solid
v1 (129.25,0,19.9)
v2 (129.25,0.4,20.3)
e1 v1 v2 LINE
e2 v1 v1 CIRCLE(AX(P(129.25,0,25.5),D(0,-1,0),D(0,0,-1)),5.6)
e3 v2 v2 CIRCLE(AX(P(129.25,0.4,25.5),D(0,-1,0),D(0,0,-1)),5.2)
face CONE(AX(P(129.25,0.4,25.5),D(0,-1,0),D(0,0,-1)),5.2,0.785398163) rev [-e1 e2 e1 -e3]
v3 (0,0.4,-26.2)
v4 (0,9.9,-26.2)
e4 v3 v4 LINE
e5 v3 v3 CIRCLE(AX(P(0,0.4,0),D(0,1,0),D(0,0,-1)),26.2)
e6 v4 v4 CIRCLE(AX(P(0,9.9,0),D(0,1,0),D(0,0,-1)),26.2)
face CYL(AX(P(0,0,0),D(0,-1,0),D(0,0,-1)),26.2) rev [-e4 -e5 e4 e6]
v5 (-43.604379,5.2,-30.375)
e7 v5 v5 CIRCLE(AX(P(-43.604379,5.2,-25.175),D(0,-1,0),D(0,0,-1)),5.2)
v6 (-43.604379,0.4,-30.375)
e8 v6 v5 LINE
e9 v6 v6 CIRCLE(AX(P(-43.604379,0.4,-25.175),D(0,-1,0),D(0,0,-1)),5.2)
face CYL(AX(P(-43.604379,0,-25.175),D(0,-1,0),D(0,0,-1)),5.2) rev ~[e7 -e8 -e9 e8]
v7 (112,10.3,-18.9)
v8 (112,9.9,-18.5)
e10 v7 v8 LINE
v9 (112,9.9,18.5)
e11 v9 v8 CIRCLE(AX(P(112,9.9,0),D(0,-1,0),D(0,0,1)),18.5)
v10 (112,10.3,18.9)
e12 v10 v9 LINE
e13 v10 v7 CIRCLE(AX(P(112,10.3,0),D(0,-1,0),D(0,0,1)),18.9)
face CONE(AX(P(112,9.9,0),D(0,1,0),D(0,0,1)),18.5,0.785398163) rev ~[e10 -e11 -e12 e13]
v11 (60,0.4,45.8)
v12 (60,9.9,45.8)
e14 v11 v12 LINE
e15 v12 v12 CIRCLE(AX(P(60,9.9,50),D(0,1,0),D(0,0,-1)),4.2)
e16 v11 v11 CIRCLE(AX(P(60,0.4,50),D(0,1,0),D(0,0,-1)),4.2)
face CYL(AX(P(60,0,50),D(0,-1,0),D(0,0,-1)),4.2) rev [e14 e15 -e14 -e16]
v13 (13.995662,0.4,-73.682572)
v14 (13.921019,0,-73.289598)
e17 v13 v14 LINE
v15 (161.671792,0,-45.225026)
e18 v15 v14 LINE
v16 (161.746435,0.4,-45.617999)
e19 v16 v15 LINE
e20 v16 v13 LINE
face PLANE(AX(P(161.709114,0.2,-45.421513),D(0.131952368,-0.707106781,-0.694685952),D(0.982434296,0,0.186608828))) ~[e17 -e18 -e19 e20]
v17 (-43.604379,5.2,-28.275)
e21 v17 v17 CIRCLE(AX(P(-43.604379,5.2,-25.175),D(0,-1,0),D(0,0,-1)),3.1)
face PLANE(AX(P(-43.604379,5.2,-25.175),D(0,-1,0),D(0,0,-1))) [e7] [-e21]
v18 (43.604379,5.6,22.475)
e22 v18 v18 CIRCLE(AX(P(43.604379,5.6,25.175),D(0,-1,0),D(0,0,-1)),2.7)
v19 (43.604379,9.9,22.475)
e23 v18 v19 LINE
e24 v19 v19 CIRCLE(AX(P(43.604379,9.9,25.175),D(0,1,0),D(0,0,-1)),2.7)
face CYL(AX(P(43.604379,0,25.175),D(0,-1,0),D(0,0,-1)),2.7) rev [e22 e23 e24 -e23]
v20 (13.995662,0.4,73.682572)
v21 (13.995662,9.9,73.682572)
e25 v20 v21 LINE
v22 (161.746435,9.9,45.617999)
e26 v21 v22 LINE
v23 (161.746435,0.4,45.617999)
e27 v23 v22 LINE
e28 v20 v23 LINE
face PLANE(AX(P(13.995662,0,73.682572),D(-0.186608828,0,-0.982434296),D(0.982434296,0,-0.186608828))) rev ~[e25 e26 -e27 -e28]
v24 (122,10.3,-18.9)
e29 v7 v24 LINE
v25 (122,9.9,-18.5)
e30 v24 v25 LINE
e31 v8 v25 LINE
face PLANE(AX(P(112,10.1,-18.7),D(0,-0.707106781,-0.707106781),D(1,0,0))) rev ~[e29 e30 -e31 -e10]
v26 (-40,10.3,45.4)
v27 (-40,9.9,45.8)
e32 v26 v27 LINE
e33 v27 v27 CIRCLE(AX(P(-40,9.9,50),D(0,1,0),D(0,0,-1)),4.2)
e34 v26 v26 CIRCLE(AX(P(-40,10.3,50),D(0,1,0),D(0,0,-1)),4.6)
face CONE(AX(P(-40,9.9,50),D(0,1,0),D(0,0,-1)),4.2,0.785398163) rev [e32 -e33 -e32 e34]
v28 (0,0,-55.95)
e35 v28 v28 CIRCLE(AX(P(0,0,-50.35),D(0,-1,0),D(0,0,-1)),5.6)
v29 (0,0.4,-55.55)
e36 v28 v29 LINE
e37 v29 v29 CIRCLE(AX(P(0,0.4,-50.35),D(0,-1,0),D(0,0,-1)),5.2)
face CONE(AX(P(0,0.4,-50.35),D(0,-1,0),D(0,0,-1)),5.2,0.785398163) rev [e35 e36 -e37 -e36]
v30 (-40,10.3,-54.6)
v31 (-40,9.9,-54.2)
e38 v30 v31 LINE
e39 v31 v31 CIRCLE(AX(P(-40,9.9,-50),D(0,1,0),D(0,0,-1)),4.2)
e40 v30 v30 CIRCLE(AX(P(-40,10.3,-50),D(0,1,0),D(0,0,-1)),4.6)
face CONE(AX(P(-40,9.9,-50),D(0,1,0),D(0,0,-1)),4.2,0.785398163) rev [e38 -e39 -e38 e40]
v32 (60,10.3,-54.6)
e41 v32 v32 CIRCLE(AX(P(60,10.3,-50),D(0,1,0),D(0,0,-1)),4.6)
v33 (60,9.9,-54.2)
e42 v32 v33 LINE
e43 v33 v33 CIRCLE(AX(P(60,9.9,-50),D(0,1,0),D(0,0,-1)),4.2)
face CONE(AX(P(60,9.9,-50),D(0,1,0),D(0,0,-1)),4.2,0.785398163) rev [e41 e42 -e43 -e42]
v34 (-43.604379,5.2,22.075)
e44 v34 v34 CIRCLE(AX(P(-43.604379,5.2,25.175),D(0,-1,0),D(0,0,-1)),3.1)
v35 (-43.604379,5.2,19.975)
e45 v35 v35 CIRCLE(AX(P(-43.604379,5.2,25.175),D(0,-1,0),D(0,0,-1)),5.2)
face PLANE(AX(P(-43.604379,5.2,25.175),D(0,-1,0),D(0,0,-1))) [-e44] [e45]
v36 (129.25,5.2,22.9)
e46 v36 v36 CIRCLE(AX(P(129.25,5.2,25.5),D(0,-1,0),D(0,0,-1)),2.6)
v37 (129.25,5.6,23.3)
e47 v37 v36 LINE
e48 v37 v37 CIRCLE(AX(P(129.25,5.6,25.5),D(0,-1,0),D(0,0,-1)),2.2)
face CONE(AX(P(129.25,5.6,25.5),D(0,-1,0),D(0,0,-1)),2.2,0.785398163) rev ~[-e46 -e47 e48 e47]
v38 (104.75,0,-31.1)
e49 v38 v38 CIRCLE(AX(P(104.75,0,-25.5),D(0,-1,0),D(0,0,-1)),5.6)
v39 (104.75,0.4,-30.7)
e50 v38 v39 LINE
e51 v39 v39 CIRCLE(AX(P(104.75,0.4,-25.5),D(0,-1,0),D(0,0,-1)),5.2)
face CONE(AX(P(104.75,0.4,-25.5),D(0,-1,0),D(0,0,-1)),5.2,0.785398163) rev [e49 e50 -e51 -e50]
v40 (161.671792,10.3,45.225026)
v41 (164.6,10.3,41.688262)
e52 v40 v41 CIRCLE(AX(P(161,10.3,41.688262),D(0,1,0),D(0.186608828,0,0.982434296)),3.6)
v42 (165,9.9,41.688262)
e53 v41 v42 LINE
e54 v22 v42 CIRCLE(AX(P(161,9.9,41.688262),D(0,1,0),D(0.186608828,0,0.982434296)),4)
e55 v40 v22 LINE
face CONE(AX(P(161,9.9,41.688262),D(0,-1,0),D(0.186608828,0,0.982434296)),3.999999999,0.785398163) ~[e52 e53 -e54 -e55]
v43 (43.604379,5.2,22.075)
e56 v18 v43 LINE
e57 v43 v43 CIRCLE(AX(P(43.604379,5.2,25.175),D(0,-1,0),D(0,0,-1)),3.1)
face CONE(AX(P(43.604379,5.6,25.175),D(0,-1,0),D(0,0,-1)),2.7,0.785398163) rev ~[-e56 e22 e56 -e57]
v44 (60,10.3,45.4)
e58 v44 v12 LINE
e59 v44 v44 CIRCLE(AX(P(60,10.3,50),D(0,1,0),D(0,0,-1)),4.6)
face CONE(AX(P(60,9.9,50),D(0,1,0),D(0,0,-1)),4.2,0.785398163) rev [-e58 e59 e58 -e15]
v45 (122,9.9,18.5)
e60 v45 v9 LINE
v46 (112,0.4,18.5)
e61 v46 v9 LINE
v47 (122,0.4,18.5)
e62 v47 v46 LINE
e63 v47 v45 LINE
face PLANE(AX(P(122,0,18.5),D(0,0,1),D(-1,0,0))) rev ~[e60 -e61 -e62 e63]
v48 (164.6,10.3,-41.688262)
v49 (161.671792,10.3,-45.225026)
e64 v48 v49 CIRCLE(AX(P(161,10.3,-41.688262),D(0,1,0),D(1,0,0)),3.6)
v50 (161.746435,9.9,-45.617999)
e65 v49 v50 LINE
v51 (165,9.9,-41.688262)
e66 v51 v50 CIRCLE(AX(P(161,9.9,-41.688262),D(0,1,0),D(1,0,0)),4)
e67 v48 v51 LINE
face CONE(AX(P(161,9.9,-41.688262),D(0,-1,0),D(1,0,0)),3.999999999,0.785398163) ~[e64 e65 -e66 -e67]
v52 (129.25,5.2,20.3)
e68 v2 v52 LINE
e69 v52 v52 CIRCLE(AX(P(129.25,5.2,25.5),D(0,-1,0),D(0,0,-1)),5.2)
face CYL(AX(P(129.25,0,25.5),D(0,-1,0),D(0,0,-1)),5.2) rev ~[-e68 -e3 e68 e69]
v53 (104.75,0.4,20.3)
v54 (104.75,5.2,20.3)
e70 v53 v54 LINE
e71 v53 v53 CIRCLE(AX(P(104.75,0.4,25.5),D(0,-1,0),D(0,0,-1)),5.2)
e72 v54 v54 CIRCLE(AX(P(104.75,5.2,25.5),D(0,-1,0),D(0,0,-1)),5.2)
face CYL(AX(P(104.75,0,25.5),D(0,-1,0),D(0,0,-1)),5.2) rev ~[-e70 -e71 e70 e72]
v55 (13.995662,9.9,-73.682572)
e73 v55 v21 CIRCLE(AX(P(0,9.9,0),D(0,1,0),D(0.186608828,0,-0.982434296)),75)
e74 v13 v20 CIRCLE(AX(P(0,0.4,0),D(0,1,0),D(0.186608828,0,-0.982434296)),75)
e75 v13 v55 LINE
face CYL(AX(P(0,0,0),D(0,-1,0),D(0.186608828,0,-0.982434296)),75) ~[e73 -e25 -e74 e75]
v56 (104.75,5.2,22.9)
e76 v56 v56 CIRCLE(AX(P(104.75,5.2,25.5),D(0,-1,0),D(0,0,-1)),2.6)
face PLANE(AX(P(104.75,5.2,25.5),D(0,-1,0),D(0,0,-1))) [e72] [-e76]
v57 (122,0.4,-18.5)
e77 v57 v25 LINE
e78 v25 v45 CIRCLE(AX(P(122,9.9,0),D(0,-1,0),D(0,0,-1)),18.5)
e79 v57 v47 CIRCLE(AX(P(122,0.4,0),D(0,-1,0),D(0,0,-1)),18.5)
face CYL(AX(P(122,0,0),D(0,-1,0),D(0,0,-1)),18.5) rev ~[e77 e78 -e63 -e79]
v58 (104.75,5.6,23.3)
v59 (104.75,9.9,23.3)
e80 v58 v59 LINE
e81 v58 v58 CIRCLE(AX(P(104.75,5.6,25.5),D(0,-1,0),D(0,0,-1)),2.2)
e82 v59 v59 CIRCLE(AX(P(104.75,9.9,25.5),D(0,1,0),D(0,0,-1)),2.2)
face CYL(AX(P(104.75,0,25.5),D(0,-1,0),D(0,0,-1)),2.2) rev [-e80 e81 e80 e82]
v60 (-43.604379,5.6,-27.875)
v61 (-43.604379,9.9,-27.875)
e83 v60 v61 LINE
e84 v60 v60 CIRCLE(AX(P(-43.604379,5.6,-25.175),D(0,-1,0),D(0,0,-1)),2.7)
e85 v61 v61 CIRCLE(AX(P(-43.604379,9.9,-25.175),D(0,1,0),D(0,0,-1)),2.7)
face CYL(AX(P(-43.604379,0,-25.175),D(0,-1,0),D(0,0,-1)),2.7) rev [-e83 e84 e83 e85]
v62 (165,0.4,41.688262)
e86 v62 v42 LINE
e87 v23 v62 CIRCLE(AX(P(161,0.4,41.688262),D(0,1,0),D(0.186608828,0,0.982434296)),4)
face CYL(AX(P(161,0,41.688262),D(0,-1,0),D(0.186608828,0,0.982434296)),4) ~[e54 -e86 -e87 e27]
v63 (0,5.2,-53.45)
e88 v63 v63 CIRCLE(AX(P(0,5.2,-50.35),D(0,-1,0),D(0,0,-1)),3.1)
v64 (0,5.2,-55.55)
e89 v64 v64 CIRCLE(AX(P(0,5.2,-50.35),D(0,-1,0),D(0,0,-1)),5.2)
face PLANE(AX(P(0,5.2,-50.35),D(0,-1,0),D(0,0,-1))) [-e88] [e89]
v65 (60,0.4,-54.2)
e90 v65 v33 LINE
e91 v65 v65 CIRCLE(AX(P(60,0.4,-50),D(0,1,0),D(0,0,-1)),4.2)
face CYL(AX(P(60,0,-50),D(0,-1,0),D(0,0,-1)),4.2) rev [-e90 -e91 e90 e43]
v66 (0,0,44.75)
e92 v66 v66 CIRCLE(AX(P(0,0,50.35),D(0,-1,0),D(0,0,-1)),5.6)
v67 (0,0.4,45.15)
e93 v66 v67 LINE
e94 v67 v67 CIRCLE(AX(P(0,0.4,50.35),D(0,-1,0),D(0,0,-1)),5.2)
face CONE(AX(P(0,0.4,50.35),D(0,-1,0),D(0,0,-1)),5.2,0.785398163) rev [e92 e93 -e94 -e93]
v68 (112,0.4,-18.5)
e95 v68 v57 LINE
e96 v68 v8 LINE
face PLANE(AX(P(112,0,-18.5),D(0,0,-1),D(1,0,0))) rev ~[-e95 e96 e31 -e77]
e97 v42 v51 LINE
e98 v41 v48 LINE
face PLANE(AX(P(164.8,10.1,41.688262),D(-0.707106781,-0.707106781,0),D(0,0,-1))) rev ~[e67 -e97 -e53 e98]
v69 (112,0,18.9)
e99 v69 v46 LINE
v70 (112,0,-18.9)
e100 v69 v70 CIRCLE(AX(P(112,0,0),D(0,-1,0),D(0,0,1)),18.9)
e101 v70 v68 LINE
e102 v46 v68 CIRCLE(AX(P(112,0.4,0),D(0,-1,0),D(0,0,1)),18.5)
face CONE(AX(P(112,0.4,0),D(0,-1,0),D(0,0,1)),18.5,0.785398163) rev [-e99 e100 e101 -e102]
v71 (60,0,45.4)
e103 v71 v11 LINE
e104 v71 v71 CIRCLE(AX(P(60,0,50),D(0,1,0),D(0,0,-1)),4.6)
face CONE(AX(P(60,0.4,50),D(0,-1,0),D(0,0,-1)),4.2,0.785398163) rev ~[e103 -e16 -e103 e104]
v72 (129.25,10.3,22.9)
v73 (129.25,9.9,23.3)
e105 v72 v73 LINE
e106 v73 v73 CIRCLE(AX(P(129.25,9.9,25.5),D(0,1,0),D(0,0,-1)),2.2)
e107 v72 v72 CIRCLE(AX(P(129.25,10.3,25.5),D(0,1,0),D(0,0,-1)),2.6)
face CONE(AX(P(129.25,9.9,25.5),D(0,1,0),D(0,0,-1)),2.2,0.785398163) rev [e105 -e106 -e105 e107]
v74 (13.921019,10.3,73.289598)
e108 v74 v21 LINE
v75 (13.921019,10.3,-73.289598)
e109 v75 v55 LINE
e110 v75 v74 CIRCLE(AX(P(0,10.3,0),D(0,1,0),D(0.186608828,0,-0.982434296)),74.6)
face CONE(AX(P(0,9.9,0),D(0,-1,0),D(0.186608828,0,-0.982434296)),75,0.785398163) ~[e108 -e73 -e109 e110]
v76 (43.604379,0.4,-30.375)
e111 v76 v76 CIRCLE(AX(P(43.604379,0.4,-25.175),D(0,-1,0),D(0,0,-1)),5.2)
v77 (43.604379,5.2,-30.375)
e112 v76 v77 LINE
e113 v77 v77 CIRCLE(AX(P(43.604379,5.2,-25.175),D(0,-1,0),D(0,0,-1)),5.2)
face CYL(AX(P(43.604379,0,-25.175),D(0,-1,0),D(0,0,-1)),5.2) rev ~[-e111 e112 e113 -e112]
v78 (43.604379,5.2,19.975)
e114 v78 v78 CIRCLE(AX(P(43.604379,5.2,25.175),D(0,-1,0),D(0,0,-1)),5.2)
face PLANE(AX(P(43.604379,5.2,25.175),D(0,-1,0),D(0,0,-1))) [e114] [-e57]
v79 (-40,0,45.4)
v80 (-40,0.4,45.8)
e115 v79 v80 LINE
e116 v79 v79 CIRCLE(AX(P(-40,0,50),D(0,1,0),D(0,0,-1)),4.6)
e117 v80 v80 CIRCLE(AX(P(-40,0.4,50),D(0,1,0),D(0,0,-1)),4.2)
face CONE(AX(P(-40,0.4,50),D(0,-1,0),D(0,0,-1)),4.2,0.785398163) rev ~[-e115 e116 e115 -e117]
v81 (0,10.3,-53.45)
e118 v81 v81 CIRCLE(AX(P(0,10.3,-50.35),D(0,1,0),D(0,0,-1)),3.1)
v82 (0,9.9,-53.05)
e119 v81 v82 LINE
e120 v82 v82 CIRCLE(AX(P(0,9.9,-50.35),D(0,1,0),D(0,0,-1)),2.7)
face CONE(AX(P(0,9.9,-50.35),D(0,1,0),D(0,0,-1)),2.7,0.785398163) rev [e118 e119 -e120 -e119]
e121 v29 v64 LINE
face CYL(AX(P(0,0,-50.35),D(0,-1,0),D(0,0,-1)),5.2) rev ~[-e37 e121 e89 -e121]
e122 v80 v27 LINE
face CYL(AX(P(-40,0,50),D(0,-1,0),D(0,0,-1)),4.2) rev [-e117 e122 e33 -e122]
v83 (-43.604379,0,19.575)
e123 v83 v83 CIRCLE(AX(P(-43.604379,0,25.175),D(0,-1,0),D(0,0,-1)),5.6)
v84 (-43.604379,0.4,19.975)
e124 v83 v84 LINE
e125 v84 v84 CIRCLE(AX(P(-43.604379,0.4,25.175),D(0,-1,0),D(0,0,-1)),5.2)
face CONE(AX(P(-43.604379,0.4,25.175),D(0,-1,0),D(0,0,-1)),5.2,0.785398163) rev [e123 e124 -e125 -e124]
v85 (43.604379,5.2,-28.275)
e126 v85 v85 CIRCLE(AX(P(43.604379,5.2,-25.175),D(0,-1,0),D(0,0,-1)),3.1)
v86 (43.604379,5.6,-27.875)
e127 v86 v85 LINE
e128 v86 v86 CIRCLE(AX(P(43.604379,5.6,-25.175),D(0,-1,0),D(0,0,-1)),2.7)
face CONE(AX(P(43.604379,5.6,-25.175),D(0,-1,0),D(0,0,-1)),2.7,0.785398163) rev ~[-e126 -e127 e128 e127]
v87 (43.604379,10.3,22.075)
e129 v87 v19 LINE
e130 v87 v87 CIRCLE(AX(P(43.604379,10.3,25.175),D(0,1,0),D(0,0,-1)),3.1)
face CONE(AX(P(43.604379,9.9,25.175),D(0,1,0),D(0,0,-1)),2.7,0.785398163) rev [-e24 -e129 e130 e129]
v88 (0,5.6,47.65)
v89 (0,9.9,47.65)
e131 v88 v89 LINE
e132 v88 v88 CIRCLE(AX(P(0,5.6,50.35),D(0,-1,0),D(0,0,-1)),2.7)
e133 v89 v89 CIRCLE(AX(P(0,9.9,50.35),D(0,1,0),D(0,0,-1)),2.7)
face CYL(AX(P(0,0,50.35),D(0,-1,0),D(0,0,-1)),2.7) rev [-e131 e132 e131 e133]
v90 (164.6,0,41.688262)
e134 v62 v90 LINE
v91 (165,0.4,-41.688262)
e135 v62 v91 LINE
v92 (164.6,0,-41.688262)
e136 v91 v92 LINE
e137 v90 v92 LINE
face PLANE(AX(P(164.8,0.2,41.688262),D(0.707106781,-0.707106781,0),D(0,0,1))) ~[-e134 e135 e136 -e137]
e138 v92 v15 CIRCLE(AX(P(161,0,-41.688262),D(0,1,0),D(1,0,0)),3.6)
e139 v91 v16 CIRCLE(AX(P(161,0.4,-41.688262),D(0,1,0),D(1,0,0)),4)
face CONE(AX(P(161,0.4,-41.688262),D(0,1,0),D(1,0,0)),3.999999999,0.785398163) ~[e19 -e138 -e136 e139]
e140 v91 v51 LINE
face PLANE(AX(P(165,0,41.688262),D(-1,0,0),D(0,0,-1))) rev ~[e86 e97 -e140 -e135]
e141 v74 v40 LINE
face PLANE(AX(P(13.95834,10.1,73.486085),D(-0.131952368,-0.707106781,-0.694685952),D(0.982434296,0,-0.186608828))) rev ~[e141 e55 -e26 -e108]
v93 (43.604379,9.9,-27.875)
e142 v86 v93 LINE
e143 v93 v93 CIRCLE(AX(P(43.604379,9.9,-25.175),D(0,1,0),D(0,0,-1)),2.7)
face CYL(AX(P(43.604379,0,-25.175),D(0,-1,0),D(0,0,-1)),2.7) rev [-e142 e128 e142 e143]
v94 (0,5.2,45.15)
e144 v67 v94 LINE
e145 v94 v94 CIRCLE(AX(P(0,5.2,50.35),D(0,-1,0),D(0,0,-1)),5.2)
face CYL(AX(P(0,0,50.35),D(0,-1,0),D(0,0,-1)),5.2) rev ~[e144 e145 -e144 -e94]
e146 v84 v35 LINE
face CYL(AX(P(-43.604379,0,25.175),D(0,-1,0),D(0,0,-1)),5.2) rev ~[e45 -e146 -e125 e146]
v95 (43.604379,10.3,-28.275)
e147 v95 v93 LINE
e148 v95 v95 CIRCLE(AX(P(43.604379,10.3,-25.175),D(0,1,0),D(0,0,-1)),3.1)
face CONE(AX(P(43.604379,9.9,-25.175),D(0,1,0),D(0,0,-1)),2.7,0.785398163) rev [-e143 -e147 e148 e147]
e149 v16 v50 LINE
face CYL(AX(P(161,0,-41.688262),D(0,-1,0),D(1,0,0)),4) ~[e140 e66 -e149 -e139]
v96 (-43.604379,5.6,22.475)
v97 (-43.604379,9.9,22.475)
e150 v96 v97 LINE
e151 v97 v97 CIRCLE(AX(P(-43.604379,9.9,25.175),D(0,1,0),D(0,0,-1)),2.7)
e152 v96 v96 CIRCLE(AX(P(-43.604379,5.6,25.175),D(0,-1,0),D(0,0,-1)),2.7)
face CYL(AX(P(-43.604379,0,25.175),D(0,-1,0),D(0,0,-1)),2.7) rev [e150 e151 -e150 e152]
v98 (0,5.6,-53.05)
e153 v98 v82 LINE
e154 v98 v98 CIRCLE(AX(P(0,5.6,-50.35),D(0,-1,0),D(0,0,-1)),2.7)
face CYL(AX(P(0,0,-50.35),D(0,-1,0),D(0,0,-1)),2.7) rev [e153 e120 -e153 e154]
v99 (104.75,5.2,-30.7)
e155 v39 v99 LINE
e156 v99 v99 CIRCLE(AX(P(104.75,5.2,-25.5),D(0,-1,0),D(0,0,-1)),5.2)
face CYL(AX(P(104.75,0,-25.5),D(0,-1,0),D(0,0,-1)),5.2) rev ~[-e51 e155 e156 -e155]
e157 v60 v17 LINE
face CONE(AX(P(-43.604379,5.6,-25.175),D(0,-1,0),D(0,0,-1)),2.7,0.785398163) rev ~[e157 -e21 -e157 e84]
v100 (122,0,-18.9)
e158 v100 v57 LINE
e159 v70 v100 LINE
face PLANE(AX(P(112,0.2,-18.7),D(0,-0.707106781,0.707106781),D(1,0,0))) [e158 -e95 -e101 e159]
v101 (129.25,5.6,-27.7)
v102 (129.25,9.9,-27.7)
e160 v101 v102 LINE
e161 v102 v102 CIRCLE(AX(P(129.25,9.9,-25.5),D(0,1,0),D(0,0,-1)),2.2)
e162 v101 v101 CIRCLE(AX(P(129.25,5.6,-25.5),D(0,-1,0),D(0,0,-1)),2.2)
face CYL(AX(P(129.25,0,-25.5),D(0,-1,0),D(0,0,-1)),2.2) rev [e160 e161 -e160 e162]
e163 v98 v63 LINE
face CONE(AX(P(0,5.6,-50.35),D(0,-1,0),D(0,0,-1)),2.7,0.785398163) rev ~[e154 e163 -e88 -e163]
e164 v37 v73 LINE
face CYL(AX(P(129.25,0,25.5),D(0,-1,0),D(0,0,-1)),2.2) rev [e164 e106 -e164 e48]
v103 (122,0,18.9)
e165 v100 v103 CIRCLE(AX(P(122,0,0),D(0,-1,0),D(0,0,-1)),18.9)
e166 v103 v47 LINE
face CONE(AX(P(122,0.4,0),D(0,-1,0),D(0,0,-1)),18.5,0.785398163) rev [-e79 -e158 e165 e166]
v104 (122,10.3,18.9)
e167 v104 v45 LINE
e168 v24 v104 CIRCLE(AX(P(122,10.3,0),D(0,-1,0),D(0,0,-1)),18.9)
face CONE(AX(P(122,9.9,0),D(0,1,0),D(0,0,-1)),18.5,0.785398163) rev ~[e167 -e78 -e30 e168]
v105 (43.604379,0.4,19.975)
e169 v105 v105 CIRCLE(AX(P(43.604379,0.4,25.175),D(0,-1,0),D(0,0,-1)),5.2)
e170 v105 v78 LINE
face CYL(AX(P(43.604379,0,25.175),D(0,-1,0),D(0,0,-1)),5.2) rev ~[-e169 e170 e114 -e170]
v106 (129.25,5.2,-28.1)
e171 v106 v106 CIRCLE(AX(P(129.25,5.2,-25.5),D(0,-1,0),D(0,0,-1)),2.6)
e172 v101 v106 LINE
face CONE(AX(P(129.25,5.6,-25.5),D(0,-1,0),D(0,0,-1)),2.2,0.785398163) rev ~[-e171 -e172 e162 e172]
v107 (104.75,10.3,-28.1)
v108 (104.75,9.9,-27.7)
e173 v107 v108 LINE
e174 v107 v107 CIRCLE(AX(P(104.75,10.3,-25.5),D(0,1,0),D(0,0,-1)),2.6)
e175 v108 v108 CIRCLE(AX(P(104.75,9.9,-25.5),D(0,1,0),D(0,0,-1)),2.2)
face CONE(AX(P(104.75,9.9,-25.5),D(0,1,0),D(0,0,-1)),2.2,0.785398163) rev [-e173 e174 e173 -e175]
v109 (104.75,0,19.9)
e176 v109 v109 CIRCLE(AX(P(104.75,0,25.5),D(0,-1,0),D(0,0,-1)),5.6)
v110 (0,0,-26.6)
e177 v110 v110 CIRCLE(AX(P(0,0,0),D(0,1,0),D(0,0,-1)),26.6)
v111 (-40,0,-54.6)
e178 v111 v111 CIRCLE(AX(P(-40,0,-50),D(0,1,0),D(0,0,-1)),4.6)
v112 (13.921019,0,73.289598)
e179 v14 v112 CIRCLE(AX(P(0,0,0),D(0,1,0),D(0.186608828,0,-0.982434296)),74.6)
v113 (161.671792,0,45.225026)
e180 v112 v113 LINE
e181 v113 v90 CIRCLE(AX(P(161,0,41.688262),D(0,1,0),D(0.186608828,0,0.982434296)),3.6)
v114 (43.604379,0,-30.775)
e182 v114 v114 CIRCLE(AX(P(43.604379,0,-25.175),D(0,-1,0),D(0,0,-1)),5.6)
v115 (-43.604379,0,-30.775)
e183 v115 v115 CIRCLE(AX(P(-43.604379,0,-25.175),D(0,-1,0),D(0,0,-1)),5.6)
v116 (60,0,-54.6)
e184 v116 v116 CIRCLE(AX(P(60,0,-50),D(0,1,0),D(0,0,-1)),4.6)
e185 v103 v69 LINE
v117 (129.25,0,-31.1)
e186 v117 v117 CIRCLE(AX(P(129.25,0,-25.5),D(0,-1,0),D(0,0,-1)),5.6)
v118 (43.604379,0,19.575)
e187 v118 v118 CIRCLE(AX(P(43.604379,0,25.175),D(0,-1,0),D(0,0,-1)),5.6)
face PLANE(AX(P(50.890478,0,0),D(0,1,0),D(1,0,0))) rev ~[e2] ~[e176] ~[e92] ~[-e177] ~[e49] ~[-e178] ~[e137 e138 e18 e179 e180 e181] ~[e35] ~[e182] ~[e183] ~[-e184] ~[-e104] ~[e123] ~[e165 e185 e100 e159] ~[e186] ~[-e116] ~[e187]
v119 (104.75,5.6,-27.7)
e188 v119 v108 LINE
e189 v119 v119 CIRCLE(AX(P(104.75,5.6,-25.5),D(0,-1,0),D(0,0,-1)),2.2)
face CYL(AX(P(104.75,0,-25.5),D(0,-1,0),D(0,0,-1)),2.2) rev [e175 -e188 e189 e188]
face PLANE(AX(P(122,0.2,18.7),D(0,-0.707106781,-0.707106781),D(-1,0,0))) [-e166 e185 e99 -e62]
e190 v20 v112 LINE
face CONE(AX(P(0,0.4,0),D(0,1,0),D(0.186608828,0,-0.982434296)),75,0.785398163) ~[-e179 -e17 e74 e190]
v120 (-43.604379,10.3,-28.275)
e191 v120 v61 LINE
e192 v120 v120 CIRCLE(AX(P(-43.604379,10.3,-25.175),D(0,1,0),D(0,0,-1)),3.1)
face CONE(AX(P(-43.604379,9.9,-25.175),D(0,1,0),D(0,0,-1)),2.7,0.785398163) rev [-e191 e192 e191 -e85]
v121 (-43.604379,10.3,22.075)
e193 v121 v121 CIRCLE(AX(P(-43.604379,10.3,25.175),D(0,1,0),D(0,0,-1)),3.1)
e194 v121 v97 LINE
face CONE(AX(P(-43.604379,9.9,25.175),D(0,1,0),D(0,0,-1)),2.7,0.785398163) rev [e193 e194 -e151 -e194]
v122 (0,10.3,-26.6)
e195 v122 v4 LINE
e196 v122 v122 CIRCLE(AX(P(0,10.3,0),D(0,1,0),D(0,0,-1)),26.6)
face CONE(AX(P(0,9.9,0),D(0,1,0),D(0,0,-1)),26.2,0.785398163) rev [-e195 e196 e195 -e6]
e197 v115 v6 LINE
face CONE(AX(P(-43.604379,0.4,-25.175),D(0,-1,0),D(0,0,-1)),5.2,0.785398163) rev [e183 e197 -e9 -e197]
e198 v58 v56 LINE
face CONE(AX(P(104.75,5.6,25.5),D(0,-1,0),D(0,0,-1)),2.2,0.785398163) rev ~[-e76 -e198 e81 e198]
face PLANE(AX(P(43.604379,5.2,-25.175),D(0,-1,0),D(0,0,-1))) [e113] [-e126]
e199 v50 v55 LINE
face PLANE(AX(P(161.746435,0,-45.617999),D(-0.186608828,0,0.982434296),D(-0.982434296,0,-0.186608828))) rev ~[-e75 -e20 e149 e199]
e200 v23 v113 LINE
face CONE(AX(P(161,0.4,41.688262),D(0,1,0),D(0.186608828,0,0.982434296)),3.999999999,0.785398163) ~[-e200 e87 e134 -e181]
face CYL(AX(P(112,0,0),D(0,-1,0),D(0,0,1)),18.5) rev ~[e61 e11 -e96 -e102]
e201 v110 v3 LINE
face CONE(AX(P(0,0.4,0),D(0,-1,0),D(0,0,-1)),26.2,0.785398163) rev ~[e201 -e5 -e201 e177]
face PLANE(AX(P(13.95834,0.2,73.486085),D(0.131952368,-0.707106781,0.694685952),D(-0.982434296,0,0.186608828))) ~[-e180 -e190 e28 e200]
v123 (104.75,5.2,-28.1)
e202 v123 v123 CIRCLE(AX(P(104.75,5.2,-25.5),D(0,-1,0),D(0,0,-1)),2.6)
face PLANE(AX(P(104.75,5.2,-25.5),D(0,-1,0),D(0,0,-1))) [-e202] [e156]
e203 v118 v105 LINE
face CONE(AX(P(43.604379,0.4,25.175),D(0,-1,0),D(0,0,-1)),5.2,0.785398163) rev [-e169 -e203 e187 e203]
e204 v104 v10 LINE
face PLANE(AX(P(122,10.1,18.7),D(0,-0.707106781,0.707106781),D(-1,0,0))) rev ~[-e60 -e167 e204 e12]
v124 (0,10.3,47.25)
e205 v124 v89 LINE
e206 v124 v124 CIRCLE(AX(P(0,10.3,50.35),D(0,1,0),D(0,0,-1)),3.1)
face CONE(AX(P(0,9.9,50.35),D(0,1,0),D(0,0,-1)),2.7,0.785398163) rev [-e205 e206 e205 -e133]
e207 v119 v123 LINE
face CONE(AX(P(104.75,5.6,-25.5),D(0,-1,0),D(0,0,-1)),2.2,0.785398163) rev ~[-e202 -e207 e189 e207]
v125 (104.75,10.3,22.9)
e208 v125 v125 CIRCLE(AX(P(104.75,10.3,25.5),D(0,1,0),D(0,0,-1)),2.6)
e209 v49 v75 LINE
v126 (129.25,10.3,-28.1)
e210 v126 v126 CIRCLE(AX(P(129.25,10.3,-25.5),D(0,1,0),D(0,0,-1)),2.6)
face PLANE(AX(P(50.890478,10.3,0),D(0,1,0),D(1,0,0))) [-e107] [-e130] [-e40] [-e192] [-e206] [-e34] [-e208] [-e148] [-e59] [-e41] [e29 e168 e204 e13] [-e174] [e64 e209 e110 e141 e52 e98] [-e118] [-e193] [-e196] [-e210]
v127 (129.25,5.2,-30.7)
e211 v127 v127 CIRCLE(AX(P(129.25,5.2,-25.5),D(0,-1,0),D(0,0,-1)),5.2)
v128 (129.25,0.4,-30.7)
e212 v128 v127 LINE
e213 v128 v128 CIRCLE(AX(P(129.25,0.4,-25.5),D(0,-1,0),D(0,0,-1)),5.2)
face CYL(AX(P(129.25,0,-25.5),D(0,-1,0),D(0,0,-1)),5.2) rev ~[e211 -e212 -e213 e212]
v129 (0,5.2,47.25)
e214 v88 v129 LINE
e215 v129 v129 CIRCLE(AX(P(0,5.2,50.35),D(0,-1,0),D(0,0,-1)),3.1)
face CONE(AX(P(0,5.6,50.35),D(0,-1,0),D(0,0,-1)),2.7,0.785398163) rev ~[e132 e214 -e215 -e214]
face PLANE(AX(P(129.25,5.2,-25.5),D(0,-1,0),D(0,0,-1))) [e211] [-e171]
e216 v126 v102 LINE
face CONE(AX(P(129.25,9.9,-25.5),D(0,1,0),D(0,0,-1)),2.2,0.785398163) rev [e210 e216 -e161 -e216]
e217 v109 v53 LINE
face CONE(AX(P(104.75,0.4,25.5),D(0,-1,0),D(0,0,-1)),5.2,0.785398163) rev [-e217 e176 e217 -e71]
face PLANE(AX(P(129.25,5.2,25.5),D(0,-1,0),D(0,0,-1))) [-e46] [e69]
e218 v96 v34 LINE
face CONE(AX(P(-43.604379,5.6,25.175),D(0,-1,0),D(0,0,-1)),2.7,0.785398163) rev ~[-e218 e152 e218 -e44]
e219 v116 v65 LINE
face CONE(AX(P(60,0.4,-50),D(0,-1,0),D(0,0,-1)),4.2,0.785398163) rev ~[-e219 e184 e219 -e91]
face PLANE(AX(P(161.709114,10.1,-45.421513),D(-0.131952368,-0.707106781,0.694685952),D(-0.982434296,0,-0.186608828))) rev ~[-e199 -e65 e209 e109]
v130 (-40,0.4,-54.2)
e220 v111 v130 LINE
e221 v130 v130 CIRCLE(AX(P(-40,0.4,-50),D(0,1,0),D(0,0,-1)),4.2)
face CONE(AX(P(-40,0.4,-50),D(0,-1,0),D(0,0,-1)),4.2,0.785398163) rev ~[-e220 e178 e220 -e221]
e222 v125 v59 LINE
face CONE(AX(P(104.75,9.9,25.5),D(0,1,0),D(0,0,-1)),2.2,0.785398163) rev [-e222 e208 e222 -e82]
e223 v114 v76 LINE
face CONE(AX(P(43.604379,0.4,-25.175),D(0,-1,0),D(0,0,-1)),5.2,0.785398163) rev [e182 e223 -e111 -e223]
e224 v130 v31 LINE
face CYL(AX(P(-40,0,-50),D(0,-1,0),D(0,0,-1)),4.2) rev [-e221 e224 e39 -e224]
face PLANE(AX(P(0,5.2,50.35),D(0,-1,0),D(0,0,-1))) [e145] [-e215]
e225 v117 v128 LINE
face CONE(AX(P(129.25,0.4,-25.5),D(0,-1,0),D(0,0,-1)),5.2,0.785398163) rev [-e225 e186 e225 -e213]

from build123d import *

# Parameters (mm, degrees)
SKETCH1_R           = 4.2
SKETCH1_R_2         = 2.7
SKETCH1_R_3         = 2.2
SKETCH1_R_4         = 26.2
BOSS_EXTRUDE1_DEPTH = 10.3
SKETCH2_R           = 5.2
CUT_EXTRUDE2_DEPTH  = 5.2
CHAMFER1_SIZE       = 0.4


with BuildPart() as part:
    # Sketch1 → Boss-Extrude1 (new body)
    with BuildSketch(Plane(origin=(0, 0, 0), x_dir=(1, 0, 0), z_dir=(0, 1, 0))):
        with BuildLine():
            Line((161.746435314, 45.617999491), (13.995662136, 73.682572169))
            ThreePointArc((13.995662136, 73.682572169), (-75, 0), (13.995662136, -73.682572169))
            Line((13.995662136, -73.682572169), (161.746435314, -45.617999491))
            ThreePointArc((161.746435314, -45.617999491), (164.081050248, -44.239169867), (165, -41.688262309))
            Line((165, -41.688262309), (165, 0))
            Line((165, 0), (165, 41.688262309))
            ThreePointArc((165, 41.688262309), (164.081050248, 44.239169867), (161.746435314, 45.617999491))
        make_face()
        with Locations(Location((-40, -50, 0), (0, 0, 90))):
            Circle(SKETCH1_R, mode=Mode.SUBTRACT)
        with Locations(Location((0, -50.35, 0), (0, 0, 90))):
            Circle(SKETCH1_R_2, mode=Mode.SUBTRACT)
        with Locations(Location((-43.604379081, -25.175, 0), (0, 0, 90))):
            Circle(SKETCH1_R_2, mode=Mode.SUBTRACT)
        with Locations(Location((43.604379081, -25.175, 0), (0, 0, 90))):
            Circle(SKETCH1_R_2, mode=Mode.SUBTRACT)
        with Locations(Location((60, -50, 0), (0, 0, 90))):
            Circle(SKETCH1_R, mode=Mode.SUBTRACT)
        with Locations(Location((104.75, -25.5, 0), (0, 0, 90))):
            Circle(SKETCH1_R_3, mode=Mode.SUBTRACT)
        with Locations(Location((129.25, -25.5, 0), (0, 0, 90))):
            Circle(SKETCH1_R_3, mode=Mode.SUBTRACT)
        with Locations(Location((-43.604379081, 25.175, 0), (0, 0, 90))):
            Circle(SKETCH1_R_2, mode=Mode.SUBTRACT)
        with Locations(Location((0, 0, 0), (0, 0, 90))):
            Circle(SKETCH1_R_4, mode=Mode.SUBTRACT)
        with Locations(Location((43.604379081, 25.175, 0), (0, 0, 90))):
            Circle(SKETCH1_R_2, mode=Mode.SUBTRACT)
        with Locations(Location((-40, 50, 0), (0, 0, 90))):
            Circle(SKETCH1_R, mode=Mode.SUBTRACT)
        with Locations(Location((0, 50.35, 0), (0, 0, 90))):
            Circle(SKETCH1_R_2, mode=Mode.SUBTRACT)
        with Locations(Location((104.75, 25.5, 0), (0, 0, 90))):
            Circle(SKETCH1_R_3, mode=Mode.SUBTRACT)
        with BuildLine():
            ThreePointArc((122, 18.5), (140.5, 0), (122, -18.5))
            Line((122, -18.5), (112, -18.5))
            ThreePointArc((112, -18.5), (93.5, 0), (112, 18.5))
            Line((112, 18.5), (122, 18.5))
        make_face(mode=Mode.SUBTRACT)
        with Locations(Location((129.25, 25.5, 0), (0, 0, 90))):
            Circle(SKETCH1_R_3, mode=Mode.SUBTRACT)
        with Locations(Location((60, 50, 0), (0, 0, 90))):
            Circle(SKETCH1_R, mode=Mode.SUBTRACT)
    extrude(amount=BOSS_EXTRUDE1_DEPTH)

    # Sketch2 → Cut-Extrude2 (cut)
    with BuildSketch(Plane.XZ):
        with Locations(Location((43.604379081, -25.175, 0), (0, 0, 270))):
            Circle(SKETCH2_R)
        with Locations(Location((0, -50.35, 0), (0, 0, 270))):
            Circle(SKETCH2_R)
        with Locations(Location((-43.604379081, -25.175, 0), (0, 0, 270))):
            Circle(SKETCH2_R)
        with Locations(Location((-43.604379081, 25.175, 0), (0, 0, 270))):
            Circle(SKETCH2_R)
        with Locations(Location((0, 50.35, 0), (0, 0, 270))):
            Circle(SKETCH2_R)
        with Locations(Location((43.604379081, 25.175, 0), (0, 0, 270))):
            Circle(SKETCH2_R)
        with Locations(Location((104.75, -25.5, 0), (0, 0, 270))):
            Circle(SKETCH2_R)
        with Locations(Location((129.25, -25.5, 0), (0, 0, 270))):
            Circle(SKETCH2_R)
        with Locations(Location((129.25, 25.5, 0), (0, 0, 270))):
            Circle(SKETCH2_R)
        with Locations(Location((104.75, 25.5, 0), (0, 0, 270))):
            Circle(SKETCH2_R)
    extrude(amount=-CUT_EXTRUDE2_DEPTH, mode=Mode.SUBTRACT)

    # Chamfer1
    chamfer1_edges = [part.edges().sort_by_distance(p)[0] for p in [
        (-43.604379081, 5.2, -22.475),
        (164.081050248, 10.3, 44.239169867),
        (-43.604379081, 0, -19.975),
        (0, 5.2, -47.65),
        (0, 0, -45.15),
        (165, 10.3, 0),
        (104.75, 0, -20.3),
        (104.75, 5.2, -23.3),
        (104.75, 5.2, 27.7),
        (104.75, 0, 30.7),
        (164.081050248, 10.3, -44.239169867),
        (43.604379081, 5.2, -22.475),
        (43.604379081, 0, -19.975),
        (87.871048725, 10.3, -59.65028583),
        (-75, 10.3, 0),
        (0, 10.3, 26.2),
        (-43.604379081, 10.3, -22.475),
        (-75, 0, 0),
        (87.871048725, 0, -59.65028583),
        (164.081050248, 0, -44.239169867),
        (60, 10.3, -45.8),
        (165, 0, 0),
        (164.081050248, 0, 44.239169867),
        (87.871048725, 0, 59.65028583),
        (-40, 0, -45.8),
        (117, 0, 18.5),
        (140.5, 0, 0),
        (0, 10.3, 53.05),
        (117, 0, -18.5),
        (93.5, 0, 0),
        (-40, 0, 54.2),
        (60, 10.3, 54.2),
        (60, 0, 54.2),
        (60, 0, -45.8),
        (0, 0, 26.2),
        (43.604379081, 10.3, 27.875),
        (-40, 10.3, 54.2),
        (43.604379081, 10.3, -22.475),
        (0, 10.3, -47.65),
        (129.25, 10.3, -23.3),
        (129.25, 10.3, 27.7),
        (104.75, 10.3, 27.7),
        (93.5, 10.3, 0),
        (117, 10.3, -18.5),
        (140.5, 10.3, 0),
        (117, 10.3, 18.5),
        (104.75, 10.3, -23.3),
        (129.25, 5.2, 27.7),
        (129.25, 0, 30.7),
        (-43.604379081, 10.3, 27.875),
        (129.25, 0, -20.3),
        (129.25, 5.2, -23.3),
        (43.604379081, 5.2, 27.875),
        (43.604379081, 0, 30.375),
        (-40, 10.3, -45.8),
        (0, 5.2, 53.05),
        (0, 0, 55.55),
        (87.871048725, 10.3, 59.65028583),
        (-43.604379081, 5.2, 27.875),
        (-43.604379081, 0, 30.375),
    ]]
    chamfer(chamfer1_edges, length=CHAMFER1_SIZE)


solid = part.part
